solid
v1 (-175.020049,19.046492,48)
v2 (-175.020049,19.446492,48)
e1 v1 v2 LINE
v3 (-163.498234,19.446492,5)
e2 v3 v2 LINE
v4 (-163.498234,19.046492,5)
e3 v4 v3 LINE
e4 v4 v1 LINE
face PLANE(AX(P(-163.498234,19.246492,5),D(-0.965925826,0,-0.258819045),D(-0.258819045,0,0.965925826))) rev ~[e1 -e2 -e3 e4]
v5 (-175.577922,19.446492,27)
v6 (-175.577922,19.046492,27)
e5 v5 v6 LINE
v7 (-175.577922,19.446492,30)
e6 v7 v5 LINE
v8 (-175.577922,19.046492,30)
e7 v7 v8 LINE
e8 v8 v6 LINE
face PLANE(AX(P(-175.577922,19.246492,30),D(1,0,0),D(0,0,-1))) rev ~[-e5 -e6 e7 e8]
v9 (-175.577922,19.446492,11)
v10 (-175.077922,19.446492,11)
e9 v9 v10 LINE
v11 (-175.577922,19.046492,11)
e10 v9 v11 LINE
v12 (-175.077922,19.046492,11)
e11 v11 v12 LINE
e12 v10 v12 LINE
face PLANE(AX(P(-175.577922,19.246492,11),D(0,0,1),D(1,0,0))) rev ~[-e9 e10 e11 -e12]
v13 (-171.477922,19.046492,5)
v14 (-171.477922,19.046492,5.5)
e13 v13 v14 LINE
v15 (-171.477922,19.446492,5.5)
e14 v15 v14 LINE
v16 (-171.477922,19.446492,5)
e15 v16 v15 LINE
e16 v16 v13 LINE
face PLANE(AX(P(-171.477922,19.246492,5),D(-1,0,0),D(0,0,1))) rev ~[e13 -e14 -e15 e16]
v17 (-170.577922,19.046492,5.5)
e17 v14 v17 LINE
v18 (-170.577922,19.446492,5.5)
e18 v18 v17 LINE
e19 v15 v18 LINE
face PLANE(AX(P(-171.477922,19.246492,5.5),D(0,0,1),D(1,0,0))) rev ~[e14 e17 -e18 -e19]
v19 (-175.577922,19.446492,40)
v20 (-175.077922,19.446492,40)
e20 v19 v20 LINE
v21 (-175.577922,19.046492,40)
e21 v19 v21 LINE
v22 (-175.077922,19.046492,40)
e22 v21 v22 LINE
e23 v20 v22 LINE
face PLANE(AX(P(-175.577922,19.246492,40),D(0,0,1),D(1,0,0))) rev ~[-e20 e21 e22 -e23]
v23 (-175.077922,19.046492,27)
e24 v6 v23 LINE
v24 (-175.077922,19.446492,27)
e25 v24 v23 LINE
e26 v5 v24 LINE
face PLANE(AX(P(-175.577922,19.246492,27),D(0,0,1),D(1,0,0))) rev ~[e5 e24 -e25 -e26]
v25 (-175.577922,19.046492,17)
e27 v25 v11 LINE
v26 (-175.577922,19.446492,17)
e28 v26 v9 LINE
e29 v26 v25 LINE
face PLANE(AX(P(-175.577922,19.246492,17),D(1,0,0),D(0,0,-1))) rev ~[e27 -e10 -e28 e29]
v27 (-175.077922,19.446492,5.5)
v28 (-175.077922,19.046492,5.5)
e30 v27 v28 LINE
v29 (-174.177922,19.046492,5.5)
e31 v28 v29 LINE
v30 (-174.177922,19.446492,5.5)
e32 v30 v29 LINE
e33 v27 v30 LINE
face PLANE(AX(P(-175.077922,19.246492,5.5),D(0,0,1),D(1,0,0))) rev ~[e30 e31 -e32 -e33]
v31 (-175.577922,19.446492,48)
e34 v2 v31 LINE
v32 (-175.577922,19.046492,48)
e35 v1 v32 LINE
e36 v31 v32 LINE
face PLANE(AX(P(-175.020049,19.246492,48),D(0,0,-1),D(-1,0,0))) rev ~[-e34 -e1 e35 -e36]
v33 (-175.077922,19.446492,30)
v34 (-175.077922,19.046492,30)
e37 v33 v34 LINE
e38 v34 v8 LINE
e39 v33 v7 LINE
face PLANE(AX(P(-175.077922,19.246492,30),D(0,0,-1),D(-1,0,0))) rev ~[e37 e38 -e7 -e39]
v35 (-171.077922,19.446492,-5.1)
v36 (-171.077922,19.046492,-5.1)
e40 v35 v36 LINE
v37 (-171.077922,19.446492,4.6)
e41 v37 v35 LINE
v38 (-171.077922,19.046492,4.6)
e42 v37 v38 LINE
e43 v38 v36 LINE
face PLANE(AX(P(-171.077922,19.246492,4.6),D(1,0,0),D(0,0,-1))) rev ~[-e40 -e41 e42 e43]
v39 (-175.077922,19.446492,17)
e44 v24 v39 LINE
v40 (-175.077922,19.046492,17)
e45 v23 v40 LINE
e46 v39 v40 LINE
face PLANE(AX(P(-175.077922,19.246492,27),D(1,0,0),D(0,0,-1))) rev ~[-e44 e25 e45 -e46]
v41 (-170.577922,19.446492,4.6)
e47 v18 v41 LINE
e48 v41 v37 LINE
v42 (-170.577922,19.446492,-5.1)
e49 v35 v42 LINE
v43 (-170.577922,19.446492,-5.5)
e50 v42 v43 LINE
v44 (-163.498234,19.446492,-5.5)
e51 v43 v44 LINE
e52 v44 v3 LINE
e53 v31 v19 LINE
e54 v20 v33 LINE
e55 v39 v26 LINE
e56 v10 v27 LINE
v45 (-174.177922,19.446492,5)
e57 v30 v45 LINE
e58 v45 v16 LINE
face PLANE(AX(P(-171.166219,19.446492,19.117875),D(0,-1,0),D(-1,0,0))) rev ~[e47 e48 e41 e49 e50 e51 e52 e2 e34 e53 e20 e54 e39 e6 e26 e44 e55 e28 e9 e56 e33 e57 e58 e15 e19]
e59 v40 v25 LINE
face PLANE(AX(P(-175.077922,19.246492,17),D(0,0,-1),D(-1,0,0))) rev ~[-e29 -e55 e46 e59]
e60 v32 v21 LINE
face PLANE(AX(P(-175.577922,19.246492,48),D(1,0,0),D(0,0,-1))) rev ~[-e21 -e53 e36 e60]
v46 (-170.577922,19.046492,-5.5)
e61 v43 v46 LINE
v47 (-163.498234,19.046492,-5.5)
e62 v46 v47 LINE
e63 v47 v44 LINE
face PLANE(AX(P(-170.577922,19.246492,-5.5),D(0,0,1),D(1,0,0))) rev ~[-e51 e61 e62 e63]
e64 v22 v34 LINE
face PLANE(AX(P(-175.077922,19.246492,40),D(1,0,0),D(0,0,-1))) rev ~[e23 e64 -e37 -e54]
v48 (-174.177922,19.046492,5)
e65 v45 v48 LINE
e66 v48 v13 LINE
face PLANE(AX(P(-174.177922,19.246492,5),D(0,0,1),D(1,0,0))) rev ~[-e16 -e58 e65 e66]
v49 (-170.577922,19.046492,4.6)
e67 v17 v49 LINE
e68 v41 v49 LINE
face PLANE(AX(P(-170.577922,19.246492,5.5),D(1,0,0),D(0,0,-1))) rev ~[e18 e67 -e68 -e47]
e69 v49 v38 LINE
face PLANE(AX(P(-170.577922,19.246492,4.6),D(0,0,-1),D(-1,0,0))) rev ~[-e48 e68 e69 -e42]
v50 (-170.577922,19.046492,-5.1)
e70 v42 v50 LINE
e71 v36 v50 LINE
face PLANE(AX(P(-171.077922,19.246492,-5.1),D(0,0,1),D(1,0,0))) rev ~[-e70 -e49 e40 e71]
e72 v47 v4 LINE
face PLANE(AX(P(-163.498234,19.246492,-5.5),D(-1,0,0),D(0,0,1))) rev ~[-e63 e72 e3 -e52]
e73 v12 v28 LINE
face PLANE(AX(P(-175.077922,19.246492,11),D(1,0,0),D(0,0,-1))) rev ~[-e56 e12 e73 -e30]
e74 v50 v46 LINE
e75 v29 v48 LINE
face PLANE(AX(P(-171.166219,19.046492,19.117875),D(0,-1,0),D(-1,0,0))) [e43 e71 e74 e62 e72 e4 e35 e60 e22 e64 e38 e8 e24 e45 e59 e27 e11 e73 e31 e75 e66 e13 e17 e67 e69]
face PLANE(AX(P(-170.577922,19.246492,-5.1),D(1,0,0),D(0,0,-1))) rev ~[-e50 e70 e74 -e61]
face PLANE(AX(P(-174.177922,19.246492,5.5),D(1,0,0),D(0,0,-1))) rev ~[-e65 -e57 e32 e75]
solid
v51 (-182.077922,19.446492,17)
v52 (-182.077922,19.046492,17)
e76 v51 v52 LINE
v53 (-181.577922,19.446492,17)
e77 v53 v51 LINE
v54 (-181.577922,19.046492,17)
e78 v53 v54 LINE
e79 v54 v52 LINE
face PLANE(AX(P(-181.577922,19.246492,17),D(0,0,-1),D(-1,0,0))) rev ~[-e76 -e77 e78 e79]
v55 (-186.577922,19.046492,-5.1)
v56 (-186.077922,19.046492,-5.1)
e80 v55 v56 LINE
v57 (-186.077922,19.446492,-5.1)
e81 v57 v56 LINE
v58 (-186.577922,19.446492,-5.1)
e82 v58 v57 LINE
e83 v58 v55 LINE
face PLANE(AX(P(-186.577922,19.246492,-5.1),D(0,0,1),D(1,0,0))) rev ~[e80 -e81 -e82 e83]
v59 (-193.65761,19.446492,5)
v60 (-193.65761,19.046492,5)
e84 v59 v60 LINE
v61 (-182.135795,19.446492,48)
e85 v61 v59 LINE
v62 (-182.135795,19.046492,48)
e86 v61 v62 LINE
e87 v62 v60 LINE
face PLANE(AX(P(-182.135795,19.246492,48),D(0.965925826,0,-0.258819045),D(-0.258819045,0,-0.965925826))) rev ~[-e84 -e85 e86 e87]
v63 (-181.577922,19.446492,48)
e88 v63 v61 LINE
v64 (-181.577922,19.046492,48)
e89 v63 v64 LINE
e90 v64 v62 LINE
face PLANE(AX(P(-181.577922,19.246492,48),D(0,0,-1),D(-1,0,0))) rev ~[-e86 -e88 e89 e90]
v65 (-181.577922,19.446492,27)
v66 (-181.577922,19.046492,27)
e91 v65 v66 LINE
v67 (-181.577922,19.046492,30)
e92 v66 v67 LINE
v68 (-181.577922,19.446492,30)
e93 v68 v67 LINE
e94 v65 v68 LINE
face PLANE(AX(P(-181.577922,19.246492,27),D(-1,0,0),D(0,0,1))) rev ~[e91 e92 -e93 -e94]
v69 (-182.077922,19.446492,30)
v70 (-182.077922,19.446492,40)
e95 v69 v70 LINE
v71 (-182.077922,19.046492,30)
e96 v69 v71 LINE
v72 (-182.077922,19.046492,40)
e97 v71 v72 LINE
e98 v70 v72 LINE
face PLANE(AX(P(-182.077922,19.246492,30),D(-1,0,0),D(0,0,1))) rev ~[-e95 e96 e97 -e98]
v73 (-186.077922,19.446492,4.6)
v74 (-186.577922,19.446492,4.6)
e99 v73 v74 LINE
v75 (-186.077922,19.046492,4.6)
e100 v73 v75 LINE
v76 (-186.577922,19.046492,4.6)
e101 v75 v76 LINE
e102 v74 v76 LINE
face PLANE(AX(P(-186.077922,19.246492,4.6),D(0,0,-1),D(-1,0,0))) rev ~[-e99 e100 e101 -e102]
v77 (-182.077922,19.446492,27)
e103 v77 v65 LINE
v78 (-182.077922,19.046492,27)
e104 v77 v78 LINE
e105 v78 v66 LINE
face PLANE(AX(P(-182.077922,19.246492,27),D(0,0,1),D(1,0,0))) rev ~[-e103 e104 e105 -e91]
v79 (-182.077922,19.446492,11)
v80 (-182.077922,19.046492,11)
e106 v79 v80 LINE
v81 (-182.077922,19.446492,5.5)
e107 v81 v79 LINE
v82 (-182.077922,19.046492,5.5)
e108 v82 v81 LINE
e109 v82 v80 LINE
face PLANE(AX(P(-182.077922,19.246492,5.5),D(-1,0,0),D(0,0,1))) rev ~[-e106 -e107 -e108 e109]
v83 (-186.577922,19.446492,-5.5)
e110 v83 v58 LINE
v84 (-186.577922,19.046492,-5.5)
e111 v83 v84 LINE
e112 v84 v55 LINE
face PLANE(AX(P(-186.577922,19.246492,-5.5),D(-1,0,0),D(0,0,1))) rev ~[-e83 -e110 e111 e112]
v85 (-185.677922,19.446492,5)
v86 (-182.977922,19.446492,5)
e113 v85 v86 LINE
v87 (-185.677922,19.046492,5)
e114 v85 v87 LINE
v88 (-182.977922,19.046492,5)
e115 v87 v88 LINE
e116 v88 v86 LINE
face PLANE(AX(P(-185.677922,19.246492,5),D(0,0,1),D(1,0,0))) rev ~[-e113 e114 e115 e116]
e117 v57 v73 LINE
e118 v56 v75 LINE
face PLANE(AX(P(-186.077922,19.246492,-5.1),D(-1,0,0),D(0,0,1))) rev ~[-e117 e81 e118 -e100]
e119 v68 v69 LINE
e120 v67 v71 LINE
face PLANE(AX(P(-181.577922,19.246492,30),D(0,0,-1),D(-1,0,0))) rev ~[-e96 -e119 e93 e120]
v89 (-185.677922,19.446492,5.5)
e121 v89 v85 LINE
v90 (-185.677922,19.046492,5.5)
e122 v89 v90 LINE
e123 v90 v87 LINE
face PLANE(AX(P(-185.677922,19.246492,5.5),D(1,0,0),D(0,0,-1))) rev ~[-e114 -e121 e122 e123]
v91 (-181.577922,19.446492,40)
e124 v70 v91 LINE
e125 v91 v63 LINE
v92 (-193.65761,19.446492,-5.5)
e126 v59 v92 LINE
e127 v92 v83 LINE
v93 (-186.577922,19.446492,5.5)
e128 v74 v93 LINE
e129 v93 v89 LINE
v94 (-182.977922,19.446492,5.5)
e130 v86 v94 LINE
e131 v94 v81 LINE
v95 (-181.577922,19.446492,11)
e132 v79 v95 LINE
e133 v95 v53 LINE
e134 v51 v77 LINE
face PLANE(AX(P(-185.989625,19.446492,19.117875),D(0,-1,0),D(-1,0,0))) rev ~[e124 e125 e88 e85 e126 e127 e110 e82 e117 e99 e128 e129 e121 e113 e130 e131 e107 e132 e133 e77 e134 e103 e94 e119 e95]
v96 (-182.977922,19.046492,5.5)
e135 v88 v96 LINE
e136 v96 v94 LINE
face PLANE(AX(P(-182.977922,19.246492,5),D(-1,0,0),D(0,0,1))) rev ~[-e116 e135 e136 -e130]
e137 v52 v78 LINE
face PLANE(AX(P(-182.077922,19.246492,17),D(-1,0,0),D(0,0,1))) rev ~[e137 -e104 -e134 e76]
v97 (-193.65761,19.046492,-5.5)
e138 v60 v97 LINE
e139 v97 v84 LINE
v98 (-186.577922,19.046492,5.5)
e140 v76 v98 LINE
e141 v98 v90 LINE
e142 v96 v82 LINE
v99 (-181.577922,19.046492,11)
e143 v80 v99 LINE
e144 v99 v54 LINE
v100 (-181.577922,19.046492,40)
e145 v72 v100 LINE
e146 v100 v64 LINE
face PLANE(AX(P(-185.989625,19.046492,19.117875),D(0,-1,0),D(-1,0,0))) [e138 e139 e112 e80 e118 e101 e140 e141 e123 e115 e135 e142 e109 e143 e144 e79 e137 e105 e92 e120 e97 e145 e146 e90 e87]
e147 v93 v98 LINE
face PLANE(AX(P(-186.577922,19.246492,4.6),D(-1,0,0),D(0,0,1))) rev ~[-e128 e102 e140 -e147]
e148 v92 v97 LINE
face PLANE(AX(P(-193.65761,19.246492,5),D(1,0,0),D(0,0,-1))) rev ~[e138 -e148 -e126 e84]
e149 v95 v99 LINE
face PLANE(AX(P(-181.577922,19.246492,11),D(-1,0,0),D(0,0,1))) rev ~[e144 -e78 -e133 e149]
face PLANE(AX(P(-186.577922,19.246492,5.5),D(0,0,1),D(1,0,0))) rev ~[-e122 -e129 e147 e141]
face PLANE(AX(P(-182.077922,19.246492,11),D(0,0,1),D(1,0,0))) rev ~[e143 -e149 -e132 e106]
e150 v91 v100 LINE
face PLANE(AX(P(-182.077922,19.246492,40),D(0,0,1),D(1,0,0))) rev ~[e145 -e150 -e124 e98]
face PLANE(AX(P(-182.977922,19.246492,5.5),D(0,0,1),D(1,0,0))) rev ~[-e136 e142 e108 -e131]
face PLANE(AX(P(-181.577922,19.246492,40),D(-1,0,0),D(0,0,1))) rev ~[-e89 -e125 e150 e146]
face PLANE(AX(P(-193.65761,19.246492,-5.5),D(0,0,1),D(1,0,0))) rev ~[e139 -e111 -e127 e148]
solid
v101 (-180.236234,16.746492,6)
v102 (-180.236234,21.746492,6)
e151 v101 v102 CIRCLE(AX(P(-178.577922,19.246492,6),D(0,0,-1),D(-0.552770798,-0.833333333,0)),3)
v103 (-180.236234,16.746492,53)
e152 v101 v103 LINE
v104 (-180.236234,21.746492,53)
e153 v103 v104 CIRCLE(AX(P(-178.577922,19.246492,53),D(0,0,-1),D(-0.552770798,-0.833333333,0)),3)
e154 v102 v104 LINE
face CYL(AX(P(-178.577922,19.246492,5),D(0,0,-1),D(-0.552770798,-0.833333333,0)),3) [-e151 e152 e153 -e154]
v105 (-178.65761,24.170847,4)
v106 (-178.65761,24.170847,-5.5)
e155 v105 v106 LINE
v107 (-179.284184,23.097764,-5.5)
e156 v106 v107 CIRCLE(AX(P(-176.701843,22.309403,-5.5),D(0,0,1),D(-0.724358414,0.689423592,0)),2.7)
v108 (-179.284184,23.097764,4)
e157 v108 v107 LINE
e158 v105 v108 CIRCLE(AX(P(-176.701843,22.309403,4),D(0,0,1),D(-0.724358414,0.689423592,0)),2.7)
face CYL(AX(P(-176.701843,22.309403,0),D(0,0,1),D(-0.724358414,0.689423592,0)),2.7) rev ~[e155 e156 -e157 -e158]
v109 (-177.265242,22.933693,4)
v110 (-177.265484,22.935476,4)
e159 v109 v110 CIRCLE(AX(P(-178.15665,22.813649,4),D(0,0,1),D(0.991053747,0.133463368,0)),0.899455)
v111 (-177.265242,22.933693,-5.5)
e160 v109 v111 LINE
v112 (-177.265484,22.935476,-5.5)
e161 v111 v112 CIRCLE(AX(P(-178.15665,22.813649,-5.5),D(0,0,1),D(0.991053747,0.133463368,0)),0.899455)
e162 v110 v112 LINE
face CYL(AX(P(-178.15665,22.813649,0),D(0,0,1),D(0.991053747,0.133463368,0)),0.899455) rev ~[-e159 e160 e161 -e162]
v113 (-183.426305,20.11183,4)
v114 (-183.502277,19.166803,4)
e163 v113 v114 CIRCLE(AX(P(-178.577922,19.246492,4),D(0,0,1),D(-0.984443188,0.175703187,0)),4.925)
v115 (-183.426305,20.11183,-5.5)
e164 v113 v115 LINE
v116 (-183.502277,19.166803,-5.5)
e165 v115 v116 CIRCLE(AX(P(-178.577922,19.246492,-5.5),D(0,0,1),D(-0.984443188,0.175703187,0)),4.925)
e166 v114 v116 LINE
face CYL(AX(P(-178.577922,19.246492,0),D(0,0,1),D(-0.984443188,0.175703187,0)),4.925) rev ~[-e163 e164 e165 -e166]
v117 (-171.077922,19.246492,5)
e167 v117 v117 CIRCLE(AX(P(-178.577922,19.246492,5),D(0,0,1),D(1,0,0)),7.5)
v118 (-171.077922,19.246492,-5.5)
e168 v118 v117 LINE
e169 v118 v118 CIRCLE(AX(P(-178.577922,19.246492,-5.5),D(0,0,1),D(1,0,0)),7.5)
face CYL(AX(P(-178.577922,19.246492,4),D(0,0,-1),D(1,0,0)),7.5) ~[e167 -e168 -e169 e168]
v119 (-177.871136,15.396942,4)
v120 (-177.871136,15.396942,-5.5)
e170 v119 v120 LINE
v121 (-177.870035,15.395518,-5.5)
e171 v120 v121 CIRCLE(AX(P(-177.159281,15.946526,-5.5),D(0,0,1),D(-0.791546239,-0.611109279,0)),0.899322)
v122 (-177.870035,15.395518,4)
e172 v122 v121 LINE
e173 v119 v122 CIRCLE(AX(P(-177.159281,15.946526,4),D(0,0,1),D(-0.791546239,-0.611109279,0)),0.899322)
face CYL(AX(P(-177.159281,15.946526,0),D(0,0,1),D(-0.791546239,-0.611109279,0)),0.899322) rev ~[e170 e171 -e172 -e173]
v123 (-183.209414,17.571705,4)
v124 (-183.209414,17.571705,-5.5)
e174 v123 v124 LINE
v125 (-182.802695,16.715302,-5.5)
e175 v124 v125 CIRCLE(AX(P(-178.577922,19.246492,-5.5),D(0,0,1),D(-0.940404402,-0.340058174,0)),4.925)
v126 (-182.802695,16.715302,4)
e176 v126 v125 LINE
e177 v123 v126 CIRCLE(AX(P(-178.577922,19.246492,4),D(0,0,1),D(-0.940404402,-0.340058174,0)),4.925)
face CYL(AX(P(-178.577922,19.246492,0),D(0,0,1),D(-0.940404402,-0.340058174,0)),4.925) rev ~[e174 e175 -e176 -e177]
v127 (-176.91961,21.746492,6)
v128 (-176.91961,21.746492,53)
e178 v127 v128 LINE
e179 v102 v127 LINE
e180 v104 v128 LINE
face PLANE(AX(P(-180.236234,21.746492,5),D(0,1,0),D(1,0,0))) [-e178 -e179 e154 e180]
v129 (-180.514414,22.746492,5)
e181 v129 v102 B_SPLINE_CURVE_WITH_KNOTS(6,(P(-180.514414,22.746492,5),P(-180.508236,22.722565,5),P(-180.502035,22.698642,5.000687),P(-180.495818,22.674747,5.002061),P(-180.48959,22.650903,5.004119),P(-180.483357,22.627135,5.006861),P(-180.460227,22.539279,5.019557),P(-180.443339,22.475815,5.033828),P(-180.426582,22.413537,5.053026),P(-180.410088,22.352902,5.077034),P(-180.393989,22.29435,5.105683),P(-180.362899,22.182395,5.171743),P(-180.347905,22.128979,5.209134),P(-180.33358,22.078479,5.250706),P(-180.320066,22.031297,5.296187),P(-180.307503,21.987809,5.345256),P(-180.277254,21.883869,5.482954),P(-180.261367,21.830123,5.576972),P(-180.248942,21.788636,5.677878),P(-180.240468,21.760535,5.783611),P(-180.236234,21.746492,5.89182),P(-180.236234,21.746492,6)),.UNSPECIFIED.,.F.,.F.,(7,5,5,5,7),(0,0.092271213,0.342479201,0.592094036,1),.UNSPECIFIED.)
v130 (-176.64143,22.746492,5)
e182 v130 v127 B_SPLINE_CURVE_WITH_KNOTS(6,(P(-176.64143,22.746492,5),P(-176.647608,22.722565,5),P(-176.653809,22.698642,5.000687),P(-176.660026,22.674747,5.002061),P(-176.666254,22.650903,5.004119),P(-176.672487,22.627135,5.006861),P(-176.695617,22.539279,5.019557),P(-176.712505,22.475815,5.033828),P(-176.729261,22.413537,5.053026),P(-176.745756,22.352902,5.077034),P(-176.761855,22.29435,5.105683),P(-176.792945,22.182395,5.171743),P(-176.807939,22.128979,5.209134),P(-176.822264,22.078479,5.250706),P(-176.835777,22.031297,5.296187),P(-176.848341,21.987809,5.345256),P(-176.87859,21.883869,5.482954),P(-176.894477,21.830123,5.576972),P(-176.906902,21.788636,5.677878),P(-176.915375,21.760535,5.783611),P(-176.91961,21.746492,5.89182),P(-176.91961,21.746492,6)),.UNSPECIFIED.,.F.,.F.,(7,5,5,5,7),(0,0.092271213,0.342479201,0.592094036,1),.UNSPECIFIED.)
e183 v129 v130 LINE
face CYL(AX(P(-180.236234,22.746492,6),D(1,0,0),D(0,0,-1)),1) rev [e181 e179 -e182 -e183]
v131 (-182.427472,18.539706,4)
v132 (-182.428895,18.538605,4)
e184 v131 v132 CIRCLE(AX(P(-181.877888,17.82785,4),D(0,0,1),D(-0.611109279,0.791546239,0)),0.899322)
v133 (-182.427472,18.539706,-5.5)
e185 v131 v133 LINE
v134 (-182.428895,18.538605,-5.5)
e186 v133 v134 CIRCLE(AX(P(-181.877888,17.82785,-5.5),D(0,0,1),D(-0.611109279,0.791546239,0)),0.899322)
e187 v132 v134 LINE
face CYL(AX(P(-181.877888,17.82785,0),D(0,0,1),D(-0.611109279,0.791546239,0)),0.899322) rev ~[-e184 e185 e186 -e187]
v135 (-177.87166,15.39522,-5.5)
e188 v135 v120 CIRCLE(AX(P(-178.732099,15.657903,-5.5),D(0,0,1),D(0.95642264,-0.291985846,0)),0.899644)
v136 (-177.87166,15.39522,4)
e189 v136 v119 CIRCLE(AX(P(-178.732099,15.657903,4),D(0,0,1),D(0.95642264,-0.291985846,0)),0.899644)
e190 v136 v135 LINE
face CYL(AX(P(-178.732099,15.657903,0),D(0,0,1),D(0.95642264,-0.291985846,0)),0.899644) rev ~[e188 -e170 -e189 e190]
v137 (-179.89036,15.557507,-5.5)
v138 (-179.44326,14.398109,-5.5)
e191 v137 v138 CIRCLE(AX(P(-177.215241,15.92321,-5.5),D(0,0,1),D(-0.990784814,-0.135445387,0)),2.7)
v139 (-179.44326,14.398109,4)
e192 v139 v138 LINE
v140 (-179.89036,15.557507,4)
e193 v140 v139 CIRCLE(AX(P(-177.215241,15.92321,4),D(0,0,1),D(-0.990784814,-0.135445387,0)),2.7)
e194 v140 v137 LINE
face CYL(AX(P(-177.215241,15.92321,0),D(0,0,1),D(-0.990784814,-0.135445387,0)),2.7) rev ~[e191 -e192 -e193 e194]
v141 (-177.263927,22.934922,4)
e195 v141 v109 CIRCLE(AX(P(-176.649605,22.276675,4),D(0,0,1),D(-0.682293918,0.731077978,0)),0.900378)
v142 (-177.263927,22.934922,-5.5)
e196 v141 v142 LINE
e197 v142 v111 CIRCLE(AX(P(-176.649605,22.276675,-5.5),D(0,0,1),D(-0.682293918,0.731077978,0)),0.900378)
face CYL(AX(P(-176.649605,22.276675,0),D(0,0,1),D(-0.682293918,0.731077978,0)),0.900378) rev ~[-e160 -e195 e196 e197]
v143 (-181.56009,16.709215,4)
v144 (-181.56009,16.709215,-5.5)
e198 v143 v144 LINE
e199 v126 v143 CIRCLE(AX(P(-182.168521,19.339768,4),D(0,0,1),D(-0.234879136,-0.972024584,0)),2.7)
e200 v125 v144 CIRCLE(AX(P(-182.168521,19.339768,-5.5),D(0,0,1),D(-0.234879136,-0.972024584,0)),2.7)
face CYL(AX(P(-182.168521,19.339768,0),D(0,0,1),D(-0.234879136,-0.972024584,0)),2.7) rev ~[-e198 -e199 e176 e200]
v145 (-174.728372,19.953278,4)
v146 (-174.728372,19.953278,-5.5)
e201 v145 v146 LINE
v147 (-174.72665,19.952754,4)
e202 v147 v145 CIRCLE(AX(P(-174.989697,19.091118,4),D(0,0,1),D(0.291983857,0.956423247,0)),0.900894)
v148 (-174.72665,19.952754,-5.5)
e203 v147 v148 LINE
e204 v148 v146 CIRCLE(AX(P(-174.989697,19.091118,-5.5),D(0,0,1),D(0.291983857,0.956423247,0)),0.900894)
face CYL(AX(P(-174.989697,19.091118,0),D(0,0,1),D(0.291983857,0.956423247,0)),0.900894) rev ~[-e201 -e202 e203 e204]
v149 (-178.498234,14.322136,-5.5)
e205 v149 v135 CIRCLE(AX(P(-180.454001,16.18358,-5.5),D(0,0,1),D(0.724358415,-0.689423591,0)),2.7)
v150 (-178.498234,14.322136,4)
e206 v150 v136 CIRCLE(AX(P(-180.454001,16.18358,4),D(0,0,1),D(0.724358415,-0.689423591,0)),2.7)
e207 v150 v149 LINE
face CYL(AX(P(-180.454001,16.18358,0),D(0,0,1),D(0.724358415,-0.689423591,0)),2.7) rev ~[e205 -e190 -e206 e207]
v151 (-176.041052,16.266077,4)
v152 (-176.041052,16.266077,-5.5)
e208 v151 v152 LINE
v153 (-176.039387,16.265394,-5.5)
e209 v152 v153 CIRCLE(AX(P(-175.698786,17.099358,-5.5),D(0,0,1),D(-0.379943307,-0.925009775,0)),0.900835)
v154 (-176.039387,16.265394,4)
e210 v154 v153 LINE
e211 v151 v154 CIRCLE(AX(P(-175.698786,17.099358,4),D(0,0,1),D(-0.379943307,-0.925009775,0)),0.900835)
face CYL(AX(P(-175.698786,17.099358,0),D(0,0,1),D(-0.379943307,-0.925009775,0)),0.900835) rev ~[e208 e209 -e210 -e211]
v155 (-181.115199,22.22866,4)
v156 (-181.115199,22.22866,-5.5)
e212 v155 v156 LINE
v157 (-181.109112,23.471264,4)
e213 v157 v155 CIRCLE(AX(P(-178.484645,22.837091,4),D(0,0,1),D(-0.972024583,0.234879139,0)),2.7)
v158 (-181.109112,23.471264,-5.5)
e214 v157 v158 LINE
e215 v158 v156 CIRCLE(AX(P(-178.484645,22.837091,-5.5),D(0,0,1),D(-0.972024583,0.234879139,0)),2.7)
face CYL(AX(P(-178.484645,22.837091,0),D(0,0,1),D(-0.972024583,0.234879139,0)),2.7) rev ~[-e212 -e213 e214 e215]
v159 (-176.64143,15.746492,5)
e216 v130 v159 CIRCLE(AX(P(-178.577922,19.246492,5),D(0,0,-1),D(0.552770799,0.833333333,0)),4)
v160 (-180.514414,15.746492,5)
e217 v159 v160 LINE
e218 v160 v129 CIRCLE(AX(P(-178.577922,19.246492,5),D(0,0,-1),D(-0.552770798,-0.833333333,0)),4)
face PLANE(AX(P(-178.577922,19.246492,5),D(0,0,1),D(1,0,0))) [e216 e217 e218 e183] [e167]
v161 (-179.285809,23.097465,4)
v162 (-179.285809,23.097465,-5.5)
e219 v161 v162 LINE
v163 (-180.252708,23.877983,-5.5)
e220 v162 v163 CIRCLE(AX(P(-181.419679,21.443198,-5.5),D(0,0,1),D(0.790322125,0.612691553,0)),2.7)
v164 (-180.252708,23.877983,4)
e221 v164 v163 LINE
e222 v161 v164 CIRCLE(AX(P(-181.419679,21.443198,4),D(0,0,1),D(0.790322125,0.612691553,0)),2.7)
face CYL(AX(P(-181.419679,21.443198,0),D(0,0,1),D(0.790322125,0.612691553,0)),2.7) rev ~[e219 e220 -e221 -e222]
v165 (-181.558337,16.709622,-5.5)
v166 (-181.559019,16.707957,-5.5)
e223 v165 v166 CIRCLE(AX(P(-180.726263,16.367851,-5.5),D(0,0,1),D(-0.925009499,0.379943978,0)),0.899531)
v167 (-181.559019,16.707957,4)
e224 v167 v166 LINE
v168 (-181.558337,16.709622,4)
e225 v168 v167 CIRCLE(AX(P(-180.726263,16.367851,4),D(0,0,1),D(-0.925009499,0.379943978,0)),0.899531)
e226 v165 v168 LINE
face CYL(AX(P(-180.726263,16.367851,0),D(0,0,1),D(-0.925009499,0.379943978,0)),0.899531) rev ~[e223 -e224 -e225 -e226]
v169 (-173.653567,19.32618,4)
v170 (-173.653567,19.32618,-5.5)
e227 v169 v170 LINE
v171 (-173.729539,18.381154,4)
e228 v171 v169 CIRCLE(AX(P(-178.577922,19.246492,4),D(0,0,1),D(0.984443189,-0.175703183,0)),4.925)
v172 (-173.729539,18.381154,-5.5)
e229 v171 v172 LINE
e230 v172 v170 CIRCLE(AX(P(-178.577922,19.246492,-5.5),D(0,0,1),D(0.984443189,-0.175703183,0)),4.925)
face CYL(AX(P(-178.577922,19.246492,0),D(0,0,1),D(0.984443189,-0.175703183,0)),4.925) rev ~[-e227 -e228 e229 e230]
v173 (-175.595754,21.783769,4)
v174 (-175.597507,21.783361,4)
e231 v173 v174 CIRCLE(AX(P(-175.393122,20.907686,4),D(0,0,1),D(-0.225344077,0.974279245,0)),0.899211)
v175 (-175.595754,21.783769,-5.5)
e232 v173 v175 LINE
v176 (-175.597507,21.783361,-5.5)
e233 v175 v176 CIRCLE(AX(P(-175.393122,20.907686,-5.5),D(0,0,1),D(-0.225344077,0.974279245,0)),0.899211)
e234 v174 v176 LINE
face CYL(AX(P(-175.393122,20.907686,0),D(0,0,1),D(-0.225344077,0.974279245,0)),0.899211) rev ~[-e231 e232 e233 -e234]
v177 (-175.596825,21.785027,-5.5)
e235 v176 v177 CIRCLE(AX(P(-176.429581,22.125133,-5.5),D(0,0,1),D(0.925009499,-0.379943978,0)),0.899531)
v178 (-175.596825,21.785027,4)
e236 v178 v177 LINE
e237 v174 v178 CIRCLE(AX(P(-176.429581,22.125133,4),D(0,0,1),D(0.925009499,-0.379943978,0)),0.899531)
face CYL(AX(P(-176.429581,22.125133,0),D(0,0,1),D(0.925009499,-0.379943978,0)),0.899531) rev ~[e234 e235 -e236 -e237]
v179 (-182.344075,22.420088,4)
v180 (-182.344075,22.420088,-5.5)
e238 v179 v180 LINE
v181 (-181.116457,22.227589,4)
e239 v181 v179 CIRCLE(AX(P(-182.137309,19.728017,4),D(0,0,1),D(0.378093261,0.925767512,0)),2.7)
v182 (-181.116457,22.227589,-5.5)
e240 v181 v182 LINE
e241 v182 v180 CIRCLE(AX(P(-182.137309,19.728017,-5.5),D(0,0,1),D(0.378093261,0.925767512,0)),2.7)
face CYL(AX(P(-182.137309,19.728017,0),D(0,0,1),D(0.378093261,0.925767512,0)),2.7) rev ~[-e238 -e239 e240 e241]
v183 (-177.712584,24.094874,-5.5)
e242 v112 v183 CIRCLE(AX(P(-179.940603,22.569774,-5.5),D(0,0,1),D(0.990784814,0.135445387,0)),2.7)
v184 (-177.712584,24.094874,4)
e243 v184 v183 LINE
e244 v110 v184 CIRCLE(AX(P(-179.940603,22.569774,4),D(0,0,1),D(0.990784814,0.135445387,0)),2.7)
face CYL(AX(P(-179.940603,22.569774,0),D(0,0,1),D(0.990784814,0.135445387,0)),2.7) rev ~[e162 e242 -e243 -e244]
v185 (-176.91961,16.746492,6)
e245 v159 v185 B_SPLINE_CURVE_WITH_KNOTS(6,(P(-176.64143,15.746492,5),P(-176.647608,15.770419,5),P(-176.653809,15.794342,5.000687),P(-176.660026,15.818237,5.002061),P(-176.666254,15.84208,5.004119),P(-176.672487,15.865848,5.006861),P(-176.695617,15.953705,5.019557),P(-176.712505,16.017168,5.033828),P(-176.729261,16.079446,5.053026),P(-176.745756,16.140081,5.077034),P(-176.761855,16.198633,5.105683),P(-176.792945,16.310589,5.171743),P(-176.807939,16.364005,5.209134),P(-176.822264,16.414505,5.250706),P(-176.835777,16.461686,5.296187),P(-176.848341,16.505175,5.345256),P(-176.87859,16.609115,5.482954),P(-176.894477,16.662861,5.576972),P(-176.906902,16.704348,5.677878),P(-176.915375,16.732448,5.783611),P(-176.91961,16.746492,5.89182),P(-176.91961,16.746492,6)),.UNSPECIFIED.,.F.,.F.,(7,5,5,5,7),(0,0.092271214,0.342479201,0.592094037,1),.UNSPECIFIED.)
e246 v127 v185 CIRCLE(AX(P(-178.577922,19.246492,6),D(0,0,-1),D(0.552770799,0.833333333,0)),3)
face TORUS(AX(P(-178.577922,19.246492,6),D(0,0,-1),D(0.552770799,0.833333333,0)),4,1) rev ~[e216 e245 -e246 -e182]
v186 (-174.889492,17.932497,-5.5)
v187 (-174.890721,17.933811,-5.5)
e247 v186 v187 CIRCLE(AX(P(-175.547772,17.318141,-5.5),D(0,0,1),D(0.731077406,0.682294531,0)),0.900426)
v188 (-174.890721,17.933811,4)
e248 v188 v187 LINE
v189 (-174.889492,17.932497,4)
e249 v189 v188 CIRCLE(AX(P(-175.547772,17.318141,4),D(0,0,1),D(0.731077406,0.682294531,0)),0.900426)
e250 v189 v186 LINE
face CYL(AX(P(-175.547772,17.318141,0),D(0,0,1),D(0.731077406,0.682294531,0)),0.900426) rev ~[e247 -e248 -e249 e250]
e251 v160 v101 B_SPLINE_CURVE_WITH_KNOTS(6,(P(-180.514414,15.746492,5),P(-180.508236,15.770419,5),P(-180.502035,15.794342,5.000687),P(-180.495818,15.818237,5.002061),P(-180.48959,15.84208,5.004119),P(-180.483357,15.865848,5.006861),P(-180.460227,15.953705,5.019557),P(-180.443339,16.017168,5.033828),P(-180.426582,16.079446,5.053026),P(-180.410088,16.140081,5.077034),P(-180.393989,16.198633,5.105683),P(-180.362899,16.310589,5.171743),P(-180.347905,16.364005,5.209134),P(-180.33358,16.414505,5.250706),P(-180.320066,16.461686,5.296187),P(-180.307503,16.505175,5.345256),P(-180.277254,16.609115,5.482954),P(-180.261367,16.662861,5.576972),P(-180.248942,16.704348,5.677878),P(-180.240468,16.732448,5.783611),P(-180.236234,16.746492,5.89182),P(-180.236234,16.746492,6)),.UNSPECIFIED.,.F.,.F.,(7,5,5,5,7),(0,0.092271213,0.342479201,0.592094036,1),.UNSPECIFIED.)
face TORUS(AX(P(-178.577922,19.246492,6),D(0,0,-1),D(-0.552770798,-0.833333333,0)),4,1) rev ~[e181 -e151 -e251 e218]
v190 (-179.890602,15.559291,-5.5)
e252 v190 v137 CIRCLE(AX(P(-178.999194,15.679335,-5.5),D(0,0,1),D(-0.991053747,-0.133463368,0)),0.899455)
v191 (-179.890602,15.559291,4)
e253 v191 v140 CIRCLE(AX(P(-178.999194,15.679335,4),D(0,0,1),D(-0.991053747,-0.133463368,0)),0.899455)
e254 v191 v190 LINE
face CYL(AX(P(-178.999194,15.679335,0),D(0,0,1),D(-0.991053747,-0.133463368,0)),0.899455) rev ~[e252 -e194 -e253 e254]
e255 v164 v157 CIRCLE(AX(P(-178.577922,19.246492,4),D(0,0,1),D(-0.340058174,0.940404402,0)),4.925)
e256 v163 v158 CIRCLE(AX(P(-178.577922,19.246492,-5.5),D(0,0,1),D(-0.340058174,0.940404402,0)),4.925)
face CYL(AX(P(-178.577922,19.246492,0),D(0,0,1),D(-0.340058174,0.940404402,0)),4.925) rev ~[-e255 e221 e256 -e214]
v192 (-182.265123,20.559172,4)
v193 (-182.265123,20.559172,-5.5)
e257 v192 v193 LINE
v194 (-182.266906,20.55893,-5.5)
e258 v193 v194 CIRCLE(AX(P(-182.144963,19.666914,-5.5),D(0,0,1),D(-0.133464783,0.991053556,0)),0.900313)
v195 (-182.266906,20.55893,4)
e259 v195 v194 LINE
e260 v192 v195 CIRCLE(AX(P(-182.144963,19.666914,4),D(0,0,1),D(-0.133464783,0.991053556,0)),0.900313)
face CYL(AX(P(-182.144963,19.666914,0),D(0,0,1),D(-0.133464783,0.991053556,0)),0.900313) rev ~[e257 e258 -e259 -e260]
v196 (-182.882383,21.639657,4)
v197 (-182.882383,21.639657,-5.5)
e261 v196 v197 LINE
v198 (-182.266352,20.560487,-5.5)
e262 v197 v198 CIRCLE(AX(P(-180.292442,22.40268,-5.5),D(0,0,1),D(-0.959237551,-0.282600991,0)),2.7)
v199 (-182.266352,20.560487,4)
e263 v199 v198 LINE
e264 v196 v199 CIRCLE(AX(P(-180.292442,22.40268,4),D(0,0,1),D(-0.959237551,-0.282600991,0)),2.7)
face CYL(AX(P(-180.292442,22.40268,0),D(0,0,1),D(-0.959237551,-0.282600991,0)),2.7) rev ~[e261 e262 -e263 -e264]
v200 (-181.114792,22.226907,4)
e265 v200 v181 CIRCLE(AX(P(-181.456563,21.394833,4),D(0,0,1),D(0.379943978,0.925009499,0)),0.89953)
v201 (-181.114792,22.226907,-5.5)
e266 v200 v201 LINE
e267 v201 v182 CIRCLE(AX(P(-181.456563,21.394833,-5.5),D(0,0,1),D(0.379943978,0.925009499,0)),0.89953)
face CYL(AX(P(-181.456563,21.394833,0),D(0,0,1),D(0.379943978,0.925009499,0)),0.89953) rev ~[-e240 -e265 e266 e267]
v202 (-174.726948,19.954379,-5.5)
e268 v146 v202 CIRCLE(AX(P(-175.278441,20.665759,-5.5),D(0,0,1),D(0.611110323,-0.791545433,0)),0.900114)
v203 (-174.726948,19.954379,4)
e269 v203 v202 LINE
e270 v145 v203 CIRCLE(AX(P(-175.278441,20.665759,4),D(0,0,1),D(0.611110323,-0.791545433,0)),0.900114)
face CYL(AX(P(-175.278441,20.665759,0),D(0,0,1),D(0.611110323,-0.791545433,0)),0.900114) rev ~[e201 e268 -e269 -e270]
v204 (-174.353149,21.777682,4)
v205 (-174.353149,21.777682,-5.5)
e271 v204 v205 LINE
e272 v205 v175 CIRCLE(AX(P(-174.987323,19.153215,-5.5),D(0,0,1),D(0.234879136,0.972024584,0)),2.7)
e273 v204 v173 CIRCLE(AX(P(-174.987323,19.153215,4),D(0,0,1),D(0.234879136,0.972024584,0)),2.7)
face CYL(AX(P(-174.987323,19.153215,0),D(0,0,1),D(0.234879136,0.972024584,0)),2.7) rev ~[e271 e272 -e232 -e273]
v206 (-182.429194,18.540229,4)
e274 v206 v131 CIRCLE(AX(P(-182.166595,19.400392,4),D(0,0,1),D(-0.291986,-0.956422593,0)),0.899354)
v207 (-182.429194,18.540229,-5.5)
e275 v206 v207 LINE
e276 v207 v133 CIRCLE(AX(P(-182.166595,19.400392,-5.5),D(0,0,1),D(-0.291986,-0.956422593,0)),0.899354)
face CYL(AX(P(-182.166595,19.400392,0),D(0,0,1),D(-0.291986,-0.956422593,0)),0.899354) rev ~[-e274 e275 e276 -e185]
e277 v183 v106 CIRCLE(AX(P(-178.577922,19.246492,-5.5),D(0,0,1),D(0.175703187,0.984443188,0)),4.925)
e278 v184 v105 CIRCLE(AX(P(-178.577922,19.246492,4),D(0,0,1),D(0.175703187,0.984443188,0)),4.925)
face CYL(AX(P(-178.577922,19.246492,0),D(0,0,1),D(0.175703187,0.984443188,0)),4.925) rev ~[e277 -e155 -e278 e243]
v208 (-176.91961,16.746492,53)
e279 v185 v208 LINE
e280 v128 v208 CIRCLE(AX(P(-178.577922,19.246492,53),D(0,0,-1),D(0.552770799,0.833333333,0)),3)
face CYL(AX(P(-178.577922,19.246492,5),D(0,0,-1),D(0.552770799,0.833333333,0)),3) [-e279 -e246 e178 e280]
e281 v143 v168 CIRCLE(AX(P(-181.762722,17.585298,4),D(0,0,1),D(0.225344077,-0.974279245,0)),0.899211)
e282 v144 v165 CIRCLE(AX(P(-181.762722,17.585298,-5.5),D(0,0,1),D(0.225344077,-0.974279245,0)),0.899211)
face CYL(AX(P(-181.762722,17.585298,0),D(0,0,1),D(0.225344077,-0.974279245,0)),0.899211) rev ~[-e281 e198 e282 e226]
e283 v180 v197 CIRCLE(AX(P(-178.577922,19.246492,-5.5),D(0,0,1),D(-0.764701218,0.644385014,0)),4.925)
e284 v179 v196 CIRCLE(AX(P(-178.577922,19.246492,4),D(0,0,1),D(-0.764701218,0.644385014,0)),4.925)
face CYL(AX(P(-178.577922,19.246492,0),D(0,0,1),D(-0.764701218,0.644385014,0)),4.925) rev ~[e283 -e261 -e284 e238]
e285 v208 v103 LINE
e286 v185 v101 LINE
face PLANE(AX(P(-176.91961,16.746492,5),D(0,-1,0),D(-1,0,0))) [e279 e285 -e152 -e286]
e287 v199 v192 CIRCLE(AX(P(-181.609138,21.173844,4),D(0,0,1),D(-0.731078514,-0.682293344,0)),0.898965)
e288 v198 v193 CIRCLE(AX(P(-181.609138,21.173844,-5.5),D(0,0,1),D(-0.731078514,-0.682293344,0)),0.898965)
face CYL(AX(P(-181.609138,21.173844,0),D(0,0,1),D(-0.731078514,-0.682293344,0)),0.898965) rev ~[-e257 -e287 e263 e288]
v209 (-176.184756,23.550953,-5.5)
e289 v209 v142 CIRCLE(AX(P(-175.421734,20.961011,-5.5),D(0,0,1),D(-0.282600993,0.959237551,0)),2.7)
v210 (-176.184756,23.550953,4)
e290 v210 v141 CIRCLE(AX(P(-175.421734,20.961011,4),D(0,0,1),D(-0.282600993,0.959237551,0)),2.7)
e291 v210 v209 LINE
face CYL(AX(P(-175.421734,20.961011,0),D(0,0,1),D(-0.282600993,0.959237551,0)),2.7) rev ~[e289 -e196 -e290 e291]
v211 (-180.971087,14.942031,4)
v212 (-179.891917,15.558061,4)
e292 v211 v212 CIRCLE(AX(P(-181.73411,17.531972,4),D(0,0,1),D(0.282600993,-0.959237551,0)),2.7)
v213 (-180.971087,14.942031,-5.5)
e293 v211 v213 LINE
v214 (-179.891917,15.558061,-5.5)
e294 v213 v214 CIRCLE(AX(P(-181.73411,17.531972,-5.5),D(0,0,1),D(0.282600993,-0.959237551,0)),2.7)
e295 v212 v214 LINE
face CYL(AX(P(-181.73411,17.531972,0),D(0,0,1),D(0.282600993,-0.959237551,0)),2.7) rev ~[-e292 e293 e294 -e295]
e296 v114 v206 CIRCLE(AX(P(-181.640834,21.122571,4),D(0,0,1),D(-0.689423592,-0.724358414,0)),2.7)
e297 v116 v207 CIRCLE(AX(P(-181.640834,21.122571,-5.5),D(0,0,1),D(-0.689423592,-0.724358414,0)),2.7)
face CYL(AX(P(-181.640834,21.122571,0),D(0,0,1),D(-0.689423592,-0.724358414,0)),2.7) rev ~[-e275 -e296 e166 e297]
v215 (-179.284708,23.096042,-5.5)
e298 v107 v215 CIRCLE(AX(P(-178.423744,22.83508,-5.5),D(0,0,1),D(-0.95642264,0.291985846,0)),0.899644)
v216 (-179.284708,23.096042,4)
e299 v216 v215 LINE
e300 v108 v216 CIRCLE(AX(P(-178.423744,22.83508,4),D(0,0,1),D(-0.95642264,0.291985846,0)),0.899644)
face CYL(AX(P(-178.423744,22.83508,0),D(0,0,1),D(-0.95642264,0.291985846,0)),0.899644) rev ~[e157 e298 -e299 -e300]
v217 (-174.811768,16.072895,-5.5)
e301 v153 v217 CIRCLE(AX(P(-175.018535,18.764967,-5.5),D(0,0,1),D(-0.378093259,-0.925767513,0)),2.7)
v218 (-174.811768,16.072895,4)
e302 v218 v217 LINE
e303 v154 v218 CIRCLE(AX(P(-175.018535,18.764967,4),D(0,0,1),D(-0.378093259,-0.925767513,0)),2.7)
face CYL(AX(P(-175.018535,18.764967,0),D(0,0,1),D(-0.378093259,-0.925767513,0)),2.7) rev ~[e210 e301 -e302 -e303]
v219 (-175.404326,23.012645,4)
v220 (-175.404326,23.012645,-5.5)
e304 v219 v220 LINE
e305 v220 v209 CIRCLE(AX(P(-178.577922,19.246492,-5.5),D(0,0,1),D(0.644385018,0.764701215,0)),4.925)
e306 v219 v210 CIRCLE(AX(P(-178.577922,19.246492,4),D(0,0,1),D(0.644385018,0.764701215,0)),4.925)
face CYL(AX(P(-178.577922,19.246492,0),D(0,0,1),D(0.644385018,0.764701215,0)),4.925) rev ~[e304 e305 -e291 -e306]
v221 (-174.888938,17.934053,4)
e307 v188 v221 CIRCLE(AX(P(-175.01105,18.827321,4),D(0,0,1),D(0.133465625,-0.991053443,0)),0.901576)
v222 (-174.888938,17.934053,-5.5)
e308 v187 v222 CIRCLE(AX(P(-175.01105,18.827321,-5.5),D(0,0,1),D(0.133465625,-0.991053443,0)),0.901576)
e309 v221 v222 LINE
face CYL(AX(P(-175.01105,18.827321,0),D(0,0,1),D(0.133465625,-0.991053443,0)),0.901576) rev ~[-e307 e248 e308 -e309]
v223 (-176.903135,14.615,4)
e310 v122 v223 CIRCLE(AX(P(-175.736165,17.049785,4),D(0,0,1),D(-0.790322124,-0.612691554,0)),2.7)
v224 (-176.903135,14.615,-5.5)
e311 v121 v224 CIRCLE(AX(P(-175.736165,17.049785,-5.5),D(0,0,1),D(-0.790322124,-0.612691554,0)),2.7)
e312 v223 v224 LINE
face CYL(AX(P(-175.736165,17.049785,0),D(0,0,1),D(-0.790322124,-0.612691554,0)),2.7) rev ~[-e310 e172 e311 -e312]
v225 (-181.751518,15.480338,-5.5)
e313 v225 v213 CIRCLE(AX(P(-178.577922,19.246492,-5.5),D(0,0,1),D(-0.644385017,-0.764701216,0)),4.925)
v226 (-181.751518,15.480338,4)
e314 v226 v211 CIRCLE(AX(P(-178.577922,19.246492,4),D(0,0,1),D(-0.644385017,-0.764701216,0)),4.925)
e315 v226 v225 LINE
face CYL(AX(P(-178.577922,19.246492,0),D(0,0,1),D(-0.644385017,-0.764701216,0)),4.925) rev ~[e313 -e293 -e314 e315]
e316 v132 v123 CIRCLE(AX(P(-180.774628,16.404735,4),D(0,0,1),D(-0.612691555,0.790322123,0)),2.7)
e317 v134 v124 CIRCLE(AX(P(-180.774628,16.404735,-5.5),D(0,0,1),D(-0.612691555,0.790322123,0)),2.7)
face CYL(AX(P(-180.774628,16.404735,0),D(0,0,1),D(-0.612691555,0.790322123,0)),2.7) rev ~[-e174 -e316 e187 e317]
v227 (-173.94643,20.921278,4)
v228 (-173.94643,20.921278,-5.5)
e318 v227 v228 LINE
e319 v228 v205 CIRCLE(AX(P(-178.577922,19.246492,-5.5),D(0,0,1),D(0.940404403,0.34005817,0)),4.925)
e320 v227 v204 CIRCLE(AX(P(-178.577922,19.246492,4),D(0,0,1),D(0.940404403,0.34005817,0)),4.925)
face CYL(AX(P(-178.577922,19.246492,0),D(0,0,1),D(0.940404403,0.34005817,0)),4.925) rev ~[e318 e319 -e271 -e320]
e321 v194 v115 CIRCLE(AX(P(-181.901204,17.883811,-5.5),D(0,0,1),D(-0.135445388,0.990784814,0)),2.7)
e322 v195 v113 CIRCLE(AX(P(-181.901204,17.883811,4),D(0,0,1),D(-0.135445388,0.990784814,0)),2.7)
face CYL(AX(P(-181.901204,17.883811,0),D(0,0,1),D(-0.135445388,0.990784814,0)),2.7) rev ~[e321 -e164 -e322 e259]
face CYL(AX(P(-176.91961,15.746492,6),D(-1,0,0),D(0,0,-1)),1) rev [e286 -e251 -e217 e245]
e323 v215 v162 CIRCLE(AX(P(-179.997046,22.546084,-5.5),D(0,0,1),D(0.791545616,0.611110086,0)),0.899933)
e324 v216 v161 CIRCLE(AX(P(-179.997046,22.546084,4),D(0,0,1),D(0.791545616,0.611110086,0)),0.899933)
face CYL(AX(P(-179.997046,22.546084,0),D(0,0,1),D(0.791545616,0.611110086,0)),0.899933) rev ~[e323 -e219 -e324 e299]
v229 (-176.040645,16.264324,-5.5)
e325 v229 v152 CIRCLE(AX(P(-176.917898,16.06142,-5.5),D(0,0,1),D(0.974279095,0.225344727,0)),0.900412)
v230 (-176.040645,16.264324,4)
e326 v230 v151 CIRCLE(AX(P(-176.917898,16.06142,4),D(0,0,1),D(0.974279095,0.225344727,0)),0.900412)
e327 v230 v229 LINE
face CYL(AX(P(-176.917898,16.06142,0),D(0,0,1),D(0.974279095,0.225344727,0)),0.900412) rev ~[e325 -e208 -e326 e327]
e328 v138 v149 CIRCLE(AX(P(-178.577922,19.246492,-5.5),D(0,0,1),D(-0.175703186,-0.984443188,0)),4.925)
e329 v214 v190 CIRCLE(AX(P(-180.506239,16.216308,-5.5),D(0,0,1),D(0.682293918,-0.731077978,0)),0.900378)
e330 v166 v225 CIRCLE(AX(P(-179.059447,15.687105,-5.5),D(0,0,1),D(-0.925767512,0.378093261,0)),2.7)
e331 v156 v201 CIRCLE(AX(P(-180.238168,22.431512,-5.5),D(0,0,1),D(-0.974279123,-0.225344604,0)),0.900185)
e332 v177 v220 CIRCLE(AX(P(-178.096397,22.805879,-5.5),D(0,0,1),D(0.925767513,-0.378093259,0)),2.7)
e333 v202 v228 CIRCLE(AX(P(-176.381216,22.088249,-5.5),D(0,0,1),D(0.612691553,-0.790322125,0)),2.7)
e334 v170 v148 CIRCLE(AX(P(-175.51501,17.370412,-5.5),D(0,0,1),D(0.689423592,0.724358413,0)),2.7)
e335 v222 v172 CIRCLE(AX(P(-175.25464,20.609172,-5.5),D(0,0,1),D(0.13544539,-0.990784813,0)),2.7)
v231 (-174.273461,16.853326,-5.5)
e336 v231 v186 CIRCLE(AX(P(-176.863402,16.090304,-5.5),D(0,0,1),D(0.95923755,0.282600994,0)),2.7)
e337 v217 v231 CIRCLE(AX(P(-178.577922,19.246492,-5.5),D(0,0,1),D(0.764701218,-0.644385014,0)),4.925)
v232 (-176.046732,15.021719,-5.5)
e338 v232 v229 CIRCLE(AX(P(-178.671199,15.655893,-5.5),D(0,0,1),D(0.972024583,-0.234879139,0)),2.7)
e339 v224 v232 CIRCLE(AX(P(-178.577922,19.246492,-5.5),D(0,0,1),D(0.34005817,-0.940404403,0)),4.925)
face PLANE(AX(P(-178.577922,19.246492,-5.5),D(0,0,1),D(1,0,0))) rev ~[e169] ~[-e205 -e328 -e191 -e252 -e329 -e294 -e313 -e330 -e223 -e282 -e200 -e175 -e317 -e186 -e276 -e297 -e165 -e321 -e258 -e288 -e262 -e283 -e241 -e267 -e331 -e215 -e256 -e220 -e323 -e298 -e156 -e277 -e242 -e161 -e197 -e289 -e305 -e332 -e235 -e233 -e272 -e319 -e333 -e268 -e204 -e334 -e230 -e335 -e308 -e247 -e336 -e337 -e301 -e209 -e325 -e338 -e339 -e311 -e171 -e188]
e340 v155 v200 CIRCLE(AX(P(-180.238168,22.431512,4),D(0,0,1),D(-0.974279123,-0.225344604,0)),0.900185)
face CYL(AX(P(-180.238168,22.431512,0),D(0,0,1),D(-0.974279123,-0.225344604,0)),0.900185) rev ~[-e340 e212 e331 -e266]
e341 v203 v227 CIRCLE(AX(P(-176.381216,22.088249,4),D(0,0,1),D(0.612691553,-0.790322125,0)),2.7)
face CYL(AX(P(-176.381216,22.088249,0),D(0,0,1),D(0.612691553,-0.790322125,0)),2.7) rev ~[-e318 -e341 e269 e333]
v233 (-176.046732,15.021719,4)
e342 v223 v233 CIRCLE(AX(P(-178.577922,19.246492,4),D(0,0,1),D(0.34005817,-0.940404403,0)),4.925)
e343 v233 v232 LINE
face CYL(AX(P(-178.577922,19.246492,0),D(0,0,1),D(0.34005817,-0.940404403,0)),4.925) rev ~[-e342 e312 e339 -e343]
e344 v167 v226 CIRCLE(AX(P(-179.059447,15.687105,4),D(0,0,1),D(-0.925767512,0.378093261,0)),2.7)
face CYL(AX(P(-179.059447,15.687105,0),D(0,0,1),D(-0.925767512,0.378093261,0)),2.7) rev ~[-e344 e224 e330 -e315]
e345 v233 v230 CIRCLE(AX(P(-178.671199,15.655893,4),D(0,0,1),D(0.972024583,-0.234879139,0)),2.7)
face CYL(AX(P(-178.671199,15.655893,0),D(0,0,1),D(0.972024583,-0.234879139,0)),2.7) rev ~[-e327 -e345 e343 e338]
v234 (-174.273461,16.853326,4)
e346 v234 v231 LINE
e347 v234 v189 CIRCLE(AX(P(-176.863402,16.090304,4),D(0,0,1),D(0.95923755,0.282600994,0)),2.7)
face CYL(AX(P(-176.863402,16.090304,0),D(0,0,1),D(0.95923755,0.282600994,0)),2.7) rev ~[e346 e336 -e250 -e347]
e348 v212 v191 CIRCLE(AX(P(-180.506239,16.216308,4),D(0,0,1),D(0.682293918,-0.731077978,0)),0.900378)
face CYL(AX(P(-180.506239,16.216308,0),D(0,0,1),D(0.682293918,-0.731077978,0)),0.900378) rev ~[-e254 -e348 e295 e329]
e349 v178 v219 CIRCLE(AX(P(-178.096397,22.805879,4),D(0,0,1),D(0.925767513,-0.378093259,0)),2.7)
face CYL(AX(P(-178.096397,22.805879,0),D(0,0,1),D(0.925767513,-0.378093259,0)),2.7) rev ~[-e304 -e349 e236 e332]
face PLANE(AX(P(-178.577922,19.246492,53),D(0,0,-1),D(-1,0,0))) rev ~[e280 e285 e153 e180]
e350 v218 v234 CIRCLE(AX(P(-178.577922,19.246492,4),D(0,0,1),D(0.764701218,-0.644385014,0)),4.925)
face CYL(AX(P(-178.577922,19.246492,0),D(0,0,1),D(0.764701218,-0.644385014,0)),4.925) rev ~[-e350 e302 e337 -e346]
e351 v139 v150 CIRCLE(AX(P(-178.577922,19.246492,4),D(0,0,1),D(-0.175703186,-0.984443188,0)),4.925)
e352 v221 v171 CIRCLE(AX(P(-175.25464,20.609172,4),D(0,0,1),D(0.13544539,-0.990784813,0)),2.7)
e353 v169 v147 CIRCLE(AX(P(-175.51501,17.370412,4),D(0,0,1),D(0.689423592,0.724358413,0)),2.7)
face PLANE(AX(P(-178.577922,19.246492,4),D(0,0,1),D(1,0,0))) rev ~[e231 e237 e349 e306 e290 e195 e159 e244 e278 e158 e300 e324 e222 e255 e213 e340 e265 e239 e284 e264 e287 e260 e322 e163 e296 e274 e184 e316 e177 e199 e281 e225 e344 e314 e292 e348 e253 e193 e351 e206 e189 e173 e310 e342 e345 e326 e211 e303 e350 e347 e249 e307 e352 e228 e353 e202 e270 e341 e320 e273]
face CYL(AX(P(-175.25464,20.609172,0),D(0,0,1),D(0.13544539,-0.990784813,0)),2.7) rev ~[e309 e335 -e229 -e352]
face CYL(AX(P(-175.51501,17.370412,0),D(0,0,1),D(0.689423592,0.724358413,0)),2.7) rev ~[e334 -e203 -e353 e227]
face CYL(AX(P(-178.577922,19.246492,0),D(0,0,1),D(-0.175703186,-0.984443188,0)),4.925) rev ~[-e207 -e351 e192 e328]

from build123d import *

# Parameters (mm, degrees)
SKETCH2_R                = 7.5
BOSS_EXTRUDE1_DEPTH      = 4
BOSS_EXTRUDE1_DEPTH_BACK = 5.5
SKETCH4_R                = 7.5
BOSS_EXTRUDE2_DEPTH      = 1
BOSS_EXTRUDE3_DEPTH      = 48
FILLET1_R                = 1
BOSS_EXTRUDE6_DEPTH      = 0.2
BOSS_EXTRUDE6_2_DEPTH    = 0.2


with BuildPart() as part:
    # Sketch2 → Boss-Extrude1 (new, two sides)
    with BuildSketch(Plane.XY) as boss_extrude1_sk:
        with Locations((-178.577921964, 19.246491703)):
            Circle(SKETCH2_R)
        with BuildLine():
            ThreePointArc((-181.558337123, 16.709622023), (-181.558678585, 16.708789517), (-181.559019214, 16.70795667))
            ThreePointArc((-181.559019214, 16.70795667), (-181.726852484, 16.105372267), (-181.751518169, 15.480338211))
            ThreePointArc((-181.751518169, 15.480338211), (-181.374286139, 15.192361414), (-180.971087428, 14.942030754))
            ThreePointArc((-180.971087428, 14.942030754), (-180.395580689, 15.187118416), (-179.891916803, 15.558061347))
            ThreePointArc((-179.891916803, 15.558061347), (-179.891259277, 15.558675612), (-179.890602365, 15.559290534))
            ThreePointArc((-179.890602365, 15.559290534), (-179.890481827, 15.558398832), (-179.890360397, 15.557507251))
            ThreePointArc((-179.890360397, 15.557507251), (-179.734416071, 14.951737216), (-179.443260152, 14.398109002))
            ThreePointArc((-179.443260152, 14.398109002), (-178.972579233, 14.337329795), (-178.498233577, 14.322136439))
            ThreePointArc((-178.498233577, 14.322136439), (-178.122373952, 14.82214195), (-177.871659697, 15.395219895))
            ThreePointArc((-177.871659697, 15.395219895), (-177.871397395, 15.396080627), (-177.871135954, 15.396941621))
            ThreePointArc((-177.871135954, 15.396941621), (-177.870585714, 15.396229653), (-177.870034762, 15.395518236))
            ThreePointArc((-177.870034762, 15.395518236), (-177.432097996, 14.94887816), (-176.903135467, 14.615000022))
            ThreePointArc((-176.903135467, 14.615000022), (-176.465124231, 14.797704144), (-176.046732165, 15.021719141))
            ThreePointArc((-176.046732165, 15.021719141), (-175.971230936, 15.642666427), (-176.040644995, 16.264323613))
            ThreePointArc((-176.040644995, 16.264323613), (-176.040848201, 16.26520018), (-176.041052283, 16.266076544))
            ThreePointArc((-176.041052283, 16.266076544), (-176.040219777, 16.265735082), (-176.039386931, 16.265394452))
            ThreePointArc((-176.039386931, 16.265394452), (-175.436802528, 16.097561183), (-174.811768471, 16.072895498))
            ThreePointArc((-174.811768471, 16.072895498), (-174.523791675, 16.450127528), (-174.273461015, 16.853326238))
            ThreePointArc((-174.273461015, 16.853326238), (-174.518548677, 17.428832977), (-174.889491607, 17.932496864))
            ThreePointArc((-174.889491607, 17.932496864), (-174.890105873, 17.93315439), (-174.890720795, 17.933811301))
            ThreePointArc((-174.890720795, 17.933811301), (-174.889829093, 17.93393184), (-174.888937511, 17.934053269))
            ThreePointArc((-174.888937511, 17.934053269), (-174.283167476, 18.089997596), (-173.729539262, 18.381153514))
            ThreePointArc((-173.729539262, 18.381153514), (-173.668760056, 18.851834433), (-173.6535667, 19.326180089))
            ThreePointArc((-173.6535667, 19.326180089), (-174.153572211, 19.702039715), (-174.726650155, 19.95275397))
            ThreePointArc((-174.726650155, 19.95275397), (-174.727510888, 19.953016271), (-174.728371882, 19.953277712))
            ThreePointArc((-174.728371882, 19.953277712), (-174.727659914, 19.953827953), (-174.726948497, 19.954378905))
            ThreePointArc((-174.726948497, 19.954378905), (-174.280308421, 20.39231567), (-173.946430283, 20.921278199))
            ThreePointArc((-173.946430283, 20.921278199), (-174.129134405, 21.359289436), (-174.353149401, 21.777681502))
            ThreePointArc((-174.353149401, 21.777681502), (-174.974096688, 21.85318273), (-175.595753874, 21.783768672))
            ThreePointArc((-175.595753874, 21.783768672), (-175.596630441, 21.783565466), (-175.597506804, 21.783361383))
            ThreePointArc((-175.597506804, 21.783361383), (-175.597165342, 21.784193889), (-175.596824713, 21.785026736))
            ThreePointArc((-175.596824713, 21.785026736), (-175.428991444, 22.387611138), (-175.404325759, 23.012645195))
            ThreePointArc((-175.404325759, 23.012645195), (-175.781557788, 23.300621992), (-176.184756499, 23.550952652))
            ThreePointArc((-176.184756499, 23.550952652), (-176.760263238, 23.30586499), (-177.263927124, 22.934922059))
            ThreePointArc((-177.263927124, 22.934922059), (-177.26458465, 22.934307794), (-177.265241562, 22.933692872))
            ThreePointArc((-177.265241562, 22.933692872), (-177.2653621, 22.934584574), (-177.26548353, 22.935476155))
            ThreePointArc((-177.26548353, 22.935476155), (-177.421427856, 23.54124619), (-177.712583775, 24.094874404))
            ThreePointArc((-177.712583775, 24.094874404), (-178.183264694, 24.155653611), (-178.65761035, 24.170846966))
            ThreePointArc((-178.65761035, 24.170846966), (-179.033469975, 23.670841456), (-179.28418423, 23.097763511))
            ThreePointArc((-179.28418423, 23.097763511), (-179.284446532, 23.096902779), (-179.284707973, 23.096041785))
            ThreePointArc((-179.284707973, 23.096041785), (-179.285258213, 23.096753752), (-179.285809165, 23.097465169))
            ThreePointArc((-179.285809165, 23.097465169), (-179.723745931, 23.544105246), (-180.25270846, 23.877983384))
            ThreePointArc((-180.25270846, 23.877983384), (-180.690719696, 23.695279261), (-181.109111762, 23.471264265))
            ThreePointArc((-181.109111762, 23.471264265), (-181.184612991, 22.850316978), (-181.115198932, 22.228659792))
            ThreePointArc((-181.115198932, 22.228659792), (-181.114995726, 22.227783225), (-181.114791644, 22.226906862))
            ThreePointArc((-181.114791644, 22.226906862), (-181.11562415, 22.227248324), (-181.116456997, 22.227588953))
            ThreePointArc((-181.116456997, 22.227588953), (-181.719041399, 22.395422223), (-182.344075456, 22.420087908))
            ThreePointArc((-182.344075456, 22.420087908), (-182.632052252, 22.042855878), (-182.882382912, 21.639657168))
            ThreePointArc((-182.882382912, 21.639657168), (-182.637295251, 21.064150429), (-182.26635232, 20.560486542))
            ThreePointArc((-182.26635232, 20.560486542), (-182.265738055, 20.559829016), (-182.265123132, 20.559172105))
            ThreePointArc((-182.265123132, 20.559172105), (-182.266014835, 20.559051566), (-182.266906416, 20.558930136))
            ThreePointArc((-182.266906416, 20.558930136), (-182.872676451, 20.40298581), (-183.426304665, 20.111829892))
            ThreePointArc((-183.426304665, 20.111829892), (-183.487083872, 19.641148972), (-183.502277227, 19.166803316))
            ThreePointArc((-183.502277227, 19.166803316), (-183.002271717, 18.790943691), (-182.429193772, 18.540229436))
            ThreePointArc((-182.429193772, 18.540229436), (-182.42833304, 18.539967134), (-182.427472045, 18.539705693))
            ThreePointArc((-182.427472045, 18.539705693), (-182.428184013, 18.539155453), (-182.42889543, 18.538604501))
            ThreePointArc((-182.42889543, 18.538604501), (-182.875535506, 18.100667735), (-183.209413645, 17.571705206))
            ThreePointArc((-183.209413645, 17.571705206), (-183.026709522, 17.13369397), (-182.802694526, 16.715301904))
            ThreePointArc((-182.802694526, 16.715301904), (-182.181747239, 16.639800676), (-181.560090053, 16.709214734))
            ThreePointArc((-181.560090053, 16.709214734), (-181.559213486, 16.70941794), (-181.558337123, 16.709622023))
        make_face(mode=Mode.SUBTRACT)
    extrude(amount=BOSS_EXTRUDE1_DEPTH)
    extrude(boss_extrude1_sk.sketch, amount=-BOSS_EXTRUDE1_DEPTH_BACK)

    # Sketch4 → Boss-Extrude2 (add)
    with BuildSketch(Plane.XY.offset(4)):
        with Locations((-178.577921964, 19.246491703)):
            Circle(SKETCH4_R)
    extrude(amount=BOSS_EXTRUDE2_DEPTH)

    # Sketch6 → Boss-Extrude3 (add)
    with BuildSketch(Plane.XY.offset(5)):
        with BuildLine():
            Line((-180.236234359, 21.746491703), (-176.919609568, 21.746491703))
            ThreePointArc((-176.919609568, 21.746491703), (-175.577921964, 19.246491703), (-176.919609568, 16.746491703))
            Line((-176.919609568, 16.746491703), (-180.236234359, 16.746491703))
            ThreePointArc((-180.236234359, 16.746491703), (-181.577921964, 19.246491703), (-180.236234359, 21.746491703))
        make_face()
    extrude(amount=BOSS_EXTRUDE3_DEPTH)

    # Fillet1
    fillet1_edges = [part.edges().sort_by_distance(p)[0] for p in [
        (-175.577921964, 19.246491703, 5),
        (-178.577921964, 21.746491703, 5),
        (-181.577921964, 19.246491703, 5),
        (-178.577921964, 16.746491703, 5),
    ]]
    fillet(fillet1_edges, radius=FILLET1_R)


with BuildPart() as body_2:
    # Sketch7 → Boss-Extrude6 (new, symmetric)
    with BuildSketch(Plane(origin=(0, 19.246491703, 0), x_dir=(1, 0, 0), z_dir=(0, 1, 0))):
        Polygon((-182.077921964, -5.5), (-182.077921964, -11), (-181.577921964, -11), (-181.577921964, -17), (-182.077921964, -17), (-182.077921964, -27), (-181.577921964, -27), (-181.577921964, -30), (-182.077921964, -30), (-182.077921964, -40), (-181.577921964, -40), (-181.577921964, -48), (-182.135795076, -48), (-193.65761035, -5), (-193.65761035, 5.5), (-186.577921964, 5.5), (-186.577921964, 5.1), (-186.077921964, 5.1), (-186.077921964, -4.6), (-186.577921964, -4.6), (-186.577921964, -5.5), (-185.677921964, -5.5), (-185.677921964, -5), (-182.977921964, -5), (-182.977921964, -5.5), align=None)
    extrude(amount=BOSS_EXTRUDE6_DEPTH, both=True)


with BuildPart() as body_3:
    # Sketch7 → Boss-Extrude6 2 (new, symmetric)
    with BuildSketch(Plane(origin=(0, 19.246491703, 0), x_dir=(1, 0, 0), z_dir=(0, 1, 0))):
        Polygon((-175.020048852, -48), (-175.577921964, -48), (-175.577921964, -40), (-175.077921964, -40), (-175.077921964, -30), (-175.577921964, -30), (-175.577921964, -27), (-175.077921964, -27), (-175.077921964, -17), (-175.577921964, -17), (-175.577921964, -11), (-175.077921964, -11), (-175.077921964, -5.5), (-174.177921964, -5.5), (-174.177921964, -5), (-171.477921964, -5), (-171.477921964, -5.5), (-170.577921964, -5.5), (-170.577921964, -4.6), (-171.077921964, -4.6), (-171.077921964, 5.1), (-170.577921964, 5.1), (-170.577921964, 5.5), (-163.498233577, 5.5), (-163.498233577, -5), align=None)
    extrude(amount=BOSS_EXTRUDE6_2_DEPTH, both=True)


solid = Compound([part.part, body_2.part, body_3.part])
